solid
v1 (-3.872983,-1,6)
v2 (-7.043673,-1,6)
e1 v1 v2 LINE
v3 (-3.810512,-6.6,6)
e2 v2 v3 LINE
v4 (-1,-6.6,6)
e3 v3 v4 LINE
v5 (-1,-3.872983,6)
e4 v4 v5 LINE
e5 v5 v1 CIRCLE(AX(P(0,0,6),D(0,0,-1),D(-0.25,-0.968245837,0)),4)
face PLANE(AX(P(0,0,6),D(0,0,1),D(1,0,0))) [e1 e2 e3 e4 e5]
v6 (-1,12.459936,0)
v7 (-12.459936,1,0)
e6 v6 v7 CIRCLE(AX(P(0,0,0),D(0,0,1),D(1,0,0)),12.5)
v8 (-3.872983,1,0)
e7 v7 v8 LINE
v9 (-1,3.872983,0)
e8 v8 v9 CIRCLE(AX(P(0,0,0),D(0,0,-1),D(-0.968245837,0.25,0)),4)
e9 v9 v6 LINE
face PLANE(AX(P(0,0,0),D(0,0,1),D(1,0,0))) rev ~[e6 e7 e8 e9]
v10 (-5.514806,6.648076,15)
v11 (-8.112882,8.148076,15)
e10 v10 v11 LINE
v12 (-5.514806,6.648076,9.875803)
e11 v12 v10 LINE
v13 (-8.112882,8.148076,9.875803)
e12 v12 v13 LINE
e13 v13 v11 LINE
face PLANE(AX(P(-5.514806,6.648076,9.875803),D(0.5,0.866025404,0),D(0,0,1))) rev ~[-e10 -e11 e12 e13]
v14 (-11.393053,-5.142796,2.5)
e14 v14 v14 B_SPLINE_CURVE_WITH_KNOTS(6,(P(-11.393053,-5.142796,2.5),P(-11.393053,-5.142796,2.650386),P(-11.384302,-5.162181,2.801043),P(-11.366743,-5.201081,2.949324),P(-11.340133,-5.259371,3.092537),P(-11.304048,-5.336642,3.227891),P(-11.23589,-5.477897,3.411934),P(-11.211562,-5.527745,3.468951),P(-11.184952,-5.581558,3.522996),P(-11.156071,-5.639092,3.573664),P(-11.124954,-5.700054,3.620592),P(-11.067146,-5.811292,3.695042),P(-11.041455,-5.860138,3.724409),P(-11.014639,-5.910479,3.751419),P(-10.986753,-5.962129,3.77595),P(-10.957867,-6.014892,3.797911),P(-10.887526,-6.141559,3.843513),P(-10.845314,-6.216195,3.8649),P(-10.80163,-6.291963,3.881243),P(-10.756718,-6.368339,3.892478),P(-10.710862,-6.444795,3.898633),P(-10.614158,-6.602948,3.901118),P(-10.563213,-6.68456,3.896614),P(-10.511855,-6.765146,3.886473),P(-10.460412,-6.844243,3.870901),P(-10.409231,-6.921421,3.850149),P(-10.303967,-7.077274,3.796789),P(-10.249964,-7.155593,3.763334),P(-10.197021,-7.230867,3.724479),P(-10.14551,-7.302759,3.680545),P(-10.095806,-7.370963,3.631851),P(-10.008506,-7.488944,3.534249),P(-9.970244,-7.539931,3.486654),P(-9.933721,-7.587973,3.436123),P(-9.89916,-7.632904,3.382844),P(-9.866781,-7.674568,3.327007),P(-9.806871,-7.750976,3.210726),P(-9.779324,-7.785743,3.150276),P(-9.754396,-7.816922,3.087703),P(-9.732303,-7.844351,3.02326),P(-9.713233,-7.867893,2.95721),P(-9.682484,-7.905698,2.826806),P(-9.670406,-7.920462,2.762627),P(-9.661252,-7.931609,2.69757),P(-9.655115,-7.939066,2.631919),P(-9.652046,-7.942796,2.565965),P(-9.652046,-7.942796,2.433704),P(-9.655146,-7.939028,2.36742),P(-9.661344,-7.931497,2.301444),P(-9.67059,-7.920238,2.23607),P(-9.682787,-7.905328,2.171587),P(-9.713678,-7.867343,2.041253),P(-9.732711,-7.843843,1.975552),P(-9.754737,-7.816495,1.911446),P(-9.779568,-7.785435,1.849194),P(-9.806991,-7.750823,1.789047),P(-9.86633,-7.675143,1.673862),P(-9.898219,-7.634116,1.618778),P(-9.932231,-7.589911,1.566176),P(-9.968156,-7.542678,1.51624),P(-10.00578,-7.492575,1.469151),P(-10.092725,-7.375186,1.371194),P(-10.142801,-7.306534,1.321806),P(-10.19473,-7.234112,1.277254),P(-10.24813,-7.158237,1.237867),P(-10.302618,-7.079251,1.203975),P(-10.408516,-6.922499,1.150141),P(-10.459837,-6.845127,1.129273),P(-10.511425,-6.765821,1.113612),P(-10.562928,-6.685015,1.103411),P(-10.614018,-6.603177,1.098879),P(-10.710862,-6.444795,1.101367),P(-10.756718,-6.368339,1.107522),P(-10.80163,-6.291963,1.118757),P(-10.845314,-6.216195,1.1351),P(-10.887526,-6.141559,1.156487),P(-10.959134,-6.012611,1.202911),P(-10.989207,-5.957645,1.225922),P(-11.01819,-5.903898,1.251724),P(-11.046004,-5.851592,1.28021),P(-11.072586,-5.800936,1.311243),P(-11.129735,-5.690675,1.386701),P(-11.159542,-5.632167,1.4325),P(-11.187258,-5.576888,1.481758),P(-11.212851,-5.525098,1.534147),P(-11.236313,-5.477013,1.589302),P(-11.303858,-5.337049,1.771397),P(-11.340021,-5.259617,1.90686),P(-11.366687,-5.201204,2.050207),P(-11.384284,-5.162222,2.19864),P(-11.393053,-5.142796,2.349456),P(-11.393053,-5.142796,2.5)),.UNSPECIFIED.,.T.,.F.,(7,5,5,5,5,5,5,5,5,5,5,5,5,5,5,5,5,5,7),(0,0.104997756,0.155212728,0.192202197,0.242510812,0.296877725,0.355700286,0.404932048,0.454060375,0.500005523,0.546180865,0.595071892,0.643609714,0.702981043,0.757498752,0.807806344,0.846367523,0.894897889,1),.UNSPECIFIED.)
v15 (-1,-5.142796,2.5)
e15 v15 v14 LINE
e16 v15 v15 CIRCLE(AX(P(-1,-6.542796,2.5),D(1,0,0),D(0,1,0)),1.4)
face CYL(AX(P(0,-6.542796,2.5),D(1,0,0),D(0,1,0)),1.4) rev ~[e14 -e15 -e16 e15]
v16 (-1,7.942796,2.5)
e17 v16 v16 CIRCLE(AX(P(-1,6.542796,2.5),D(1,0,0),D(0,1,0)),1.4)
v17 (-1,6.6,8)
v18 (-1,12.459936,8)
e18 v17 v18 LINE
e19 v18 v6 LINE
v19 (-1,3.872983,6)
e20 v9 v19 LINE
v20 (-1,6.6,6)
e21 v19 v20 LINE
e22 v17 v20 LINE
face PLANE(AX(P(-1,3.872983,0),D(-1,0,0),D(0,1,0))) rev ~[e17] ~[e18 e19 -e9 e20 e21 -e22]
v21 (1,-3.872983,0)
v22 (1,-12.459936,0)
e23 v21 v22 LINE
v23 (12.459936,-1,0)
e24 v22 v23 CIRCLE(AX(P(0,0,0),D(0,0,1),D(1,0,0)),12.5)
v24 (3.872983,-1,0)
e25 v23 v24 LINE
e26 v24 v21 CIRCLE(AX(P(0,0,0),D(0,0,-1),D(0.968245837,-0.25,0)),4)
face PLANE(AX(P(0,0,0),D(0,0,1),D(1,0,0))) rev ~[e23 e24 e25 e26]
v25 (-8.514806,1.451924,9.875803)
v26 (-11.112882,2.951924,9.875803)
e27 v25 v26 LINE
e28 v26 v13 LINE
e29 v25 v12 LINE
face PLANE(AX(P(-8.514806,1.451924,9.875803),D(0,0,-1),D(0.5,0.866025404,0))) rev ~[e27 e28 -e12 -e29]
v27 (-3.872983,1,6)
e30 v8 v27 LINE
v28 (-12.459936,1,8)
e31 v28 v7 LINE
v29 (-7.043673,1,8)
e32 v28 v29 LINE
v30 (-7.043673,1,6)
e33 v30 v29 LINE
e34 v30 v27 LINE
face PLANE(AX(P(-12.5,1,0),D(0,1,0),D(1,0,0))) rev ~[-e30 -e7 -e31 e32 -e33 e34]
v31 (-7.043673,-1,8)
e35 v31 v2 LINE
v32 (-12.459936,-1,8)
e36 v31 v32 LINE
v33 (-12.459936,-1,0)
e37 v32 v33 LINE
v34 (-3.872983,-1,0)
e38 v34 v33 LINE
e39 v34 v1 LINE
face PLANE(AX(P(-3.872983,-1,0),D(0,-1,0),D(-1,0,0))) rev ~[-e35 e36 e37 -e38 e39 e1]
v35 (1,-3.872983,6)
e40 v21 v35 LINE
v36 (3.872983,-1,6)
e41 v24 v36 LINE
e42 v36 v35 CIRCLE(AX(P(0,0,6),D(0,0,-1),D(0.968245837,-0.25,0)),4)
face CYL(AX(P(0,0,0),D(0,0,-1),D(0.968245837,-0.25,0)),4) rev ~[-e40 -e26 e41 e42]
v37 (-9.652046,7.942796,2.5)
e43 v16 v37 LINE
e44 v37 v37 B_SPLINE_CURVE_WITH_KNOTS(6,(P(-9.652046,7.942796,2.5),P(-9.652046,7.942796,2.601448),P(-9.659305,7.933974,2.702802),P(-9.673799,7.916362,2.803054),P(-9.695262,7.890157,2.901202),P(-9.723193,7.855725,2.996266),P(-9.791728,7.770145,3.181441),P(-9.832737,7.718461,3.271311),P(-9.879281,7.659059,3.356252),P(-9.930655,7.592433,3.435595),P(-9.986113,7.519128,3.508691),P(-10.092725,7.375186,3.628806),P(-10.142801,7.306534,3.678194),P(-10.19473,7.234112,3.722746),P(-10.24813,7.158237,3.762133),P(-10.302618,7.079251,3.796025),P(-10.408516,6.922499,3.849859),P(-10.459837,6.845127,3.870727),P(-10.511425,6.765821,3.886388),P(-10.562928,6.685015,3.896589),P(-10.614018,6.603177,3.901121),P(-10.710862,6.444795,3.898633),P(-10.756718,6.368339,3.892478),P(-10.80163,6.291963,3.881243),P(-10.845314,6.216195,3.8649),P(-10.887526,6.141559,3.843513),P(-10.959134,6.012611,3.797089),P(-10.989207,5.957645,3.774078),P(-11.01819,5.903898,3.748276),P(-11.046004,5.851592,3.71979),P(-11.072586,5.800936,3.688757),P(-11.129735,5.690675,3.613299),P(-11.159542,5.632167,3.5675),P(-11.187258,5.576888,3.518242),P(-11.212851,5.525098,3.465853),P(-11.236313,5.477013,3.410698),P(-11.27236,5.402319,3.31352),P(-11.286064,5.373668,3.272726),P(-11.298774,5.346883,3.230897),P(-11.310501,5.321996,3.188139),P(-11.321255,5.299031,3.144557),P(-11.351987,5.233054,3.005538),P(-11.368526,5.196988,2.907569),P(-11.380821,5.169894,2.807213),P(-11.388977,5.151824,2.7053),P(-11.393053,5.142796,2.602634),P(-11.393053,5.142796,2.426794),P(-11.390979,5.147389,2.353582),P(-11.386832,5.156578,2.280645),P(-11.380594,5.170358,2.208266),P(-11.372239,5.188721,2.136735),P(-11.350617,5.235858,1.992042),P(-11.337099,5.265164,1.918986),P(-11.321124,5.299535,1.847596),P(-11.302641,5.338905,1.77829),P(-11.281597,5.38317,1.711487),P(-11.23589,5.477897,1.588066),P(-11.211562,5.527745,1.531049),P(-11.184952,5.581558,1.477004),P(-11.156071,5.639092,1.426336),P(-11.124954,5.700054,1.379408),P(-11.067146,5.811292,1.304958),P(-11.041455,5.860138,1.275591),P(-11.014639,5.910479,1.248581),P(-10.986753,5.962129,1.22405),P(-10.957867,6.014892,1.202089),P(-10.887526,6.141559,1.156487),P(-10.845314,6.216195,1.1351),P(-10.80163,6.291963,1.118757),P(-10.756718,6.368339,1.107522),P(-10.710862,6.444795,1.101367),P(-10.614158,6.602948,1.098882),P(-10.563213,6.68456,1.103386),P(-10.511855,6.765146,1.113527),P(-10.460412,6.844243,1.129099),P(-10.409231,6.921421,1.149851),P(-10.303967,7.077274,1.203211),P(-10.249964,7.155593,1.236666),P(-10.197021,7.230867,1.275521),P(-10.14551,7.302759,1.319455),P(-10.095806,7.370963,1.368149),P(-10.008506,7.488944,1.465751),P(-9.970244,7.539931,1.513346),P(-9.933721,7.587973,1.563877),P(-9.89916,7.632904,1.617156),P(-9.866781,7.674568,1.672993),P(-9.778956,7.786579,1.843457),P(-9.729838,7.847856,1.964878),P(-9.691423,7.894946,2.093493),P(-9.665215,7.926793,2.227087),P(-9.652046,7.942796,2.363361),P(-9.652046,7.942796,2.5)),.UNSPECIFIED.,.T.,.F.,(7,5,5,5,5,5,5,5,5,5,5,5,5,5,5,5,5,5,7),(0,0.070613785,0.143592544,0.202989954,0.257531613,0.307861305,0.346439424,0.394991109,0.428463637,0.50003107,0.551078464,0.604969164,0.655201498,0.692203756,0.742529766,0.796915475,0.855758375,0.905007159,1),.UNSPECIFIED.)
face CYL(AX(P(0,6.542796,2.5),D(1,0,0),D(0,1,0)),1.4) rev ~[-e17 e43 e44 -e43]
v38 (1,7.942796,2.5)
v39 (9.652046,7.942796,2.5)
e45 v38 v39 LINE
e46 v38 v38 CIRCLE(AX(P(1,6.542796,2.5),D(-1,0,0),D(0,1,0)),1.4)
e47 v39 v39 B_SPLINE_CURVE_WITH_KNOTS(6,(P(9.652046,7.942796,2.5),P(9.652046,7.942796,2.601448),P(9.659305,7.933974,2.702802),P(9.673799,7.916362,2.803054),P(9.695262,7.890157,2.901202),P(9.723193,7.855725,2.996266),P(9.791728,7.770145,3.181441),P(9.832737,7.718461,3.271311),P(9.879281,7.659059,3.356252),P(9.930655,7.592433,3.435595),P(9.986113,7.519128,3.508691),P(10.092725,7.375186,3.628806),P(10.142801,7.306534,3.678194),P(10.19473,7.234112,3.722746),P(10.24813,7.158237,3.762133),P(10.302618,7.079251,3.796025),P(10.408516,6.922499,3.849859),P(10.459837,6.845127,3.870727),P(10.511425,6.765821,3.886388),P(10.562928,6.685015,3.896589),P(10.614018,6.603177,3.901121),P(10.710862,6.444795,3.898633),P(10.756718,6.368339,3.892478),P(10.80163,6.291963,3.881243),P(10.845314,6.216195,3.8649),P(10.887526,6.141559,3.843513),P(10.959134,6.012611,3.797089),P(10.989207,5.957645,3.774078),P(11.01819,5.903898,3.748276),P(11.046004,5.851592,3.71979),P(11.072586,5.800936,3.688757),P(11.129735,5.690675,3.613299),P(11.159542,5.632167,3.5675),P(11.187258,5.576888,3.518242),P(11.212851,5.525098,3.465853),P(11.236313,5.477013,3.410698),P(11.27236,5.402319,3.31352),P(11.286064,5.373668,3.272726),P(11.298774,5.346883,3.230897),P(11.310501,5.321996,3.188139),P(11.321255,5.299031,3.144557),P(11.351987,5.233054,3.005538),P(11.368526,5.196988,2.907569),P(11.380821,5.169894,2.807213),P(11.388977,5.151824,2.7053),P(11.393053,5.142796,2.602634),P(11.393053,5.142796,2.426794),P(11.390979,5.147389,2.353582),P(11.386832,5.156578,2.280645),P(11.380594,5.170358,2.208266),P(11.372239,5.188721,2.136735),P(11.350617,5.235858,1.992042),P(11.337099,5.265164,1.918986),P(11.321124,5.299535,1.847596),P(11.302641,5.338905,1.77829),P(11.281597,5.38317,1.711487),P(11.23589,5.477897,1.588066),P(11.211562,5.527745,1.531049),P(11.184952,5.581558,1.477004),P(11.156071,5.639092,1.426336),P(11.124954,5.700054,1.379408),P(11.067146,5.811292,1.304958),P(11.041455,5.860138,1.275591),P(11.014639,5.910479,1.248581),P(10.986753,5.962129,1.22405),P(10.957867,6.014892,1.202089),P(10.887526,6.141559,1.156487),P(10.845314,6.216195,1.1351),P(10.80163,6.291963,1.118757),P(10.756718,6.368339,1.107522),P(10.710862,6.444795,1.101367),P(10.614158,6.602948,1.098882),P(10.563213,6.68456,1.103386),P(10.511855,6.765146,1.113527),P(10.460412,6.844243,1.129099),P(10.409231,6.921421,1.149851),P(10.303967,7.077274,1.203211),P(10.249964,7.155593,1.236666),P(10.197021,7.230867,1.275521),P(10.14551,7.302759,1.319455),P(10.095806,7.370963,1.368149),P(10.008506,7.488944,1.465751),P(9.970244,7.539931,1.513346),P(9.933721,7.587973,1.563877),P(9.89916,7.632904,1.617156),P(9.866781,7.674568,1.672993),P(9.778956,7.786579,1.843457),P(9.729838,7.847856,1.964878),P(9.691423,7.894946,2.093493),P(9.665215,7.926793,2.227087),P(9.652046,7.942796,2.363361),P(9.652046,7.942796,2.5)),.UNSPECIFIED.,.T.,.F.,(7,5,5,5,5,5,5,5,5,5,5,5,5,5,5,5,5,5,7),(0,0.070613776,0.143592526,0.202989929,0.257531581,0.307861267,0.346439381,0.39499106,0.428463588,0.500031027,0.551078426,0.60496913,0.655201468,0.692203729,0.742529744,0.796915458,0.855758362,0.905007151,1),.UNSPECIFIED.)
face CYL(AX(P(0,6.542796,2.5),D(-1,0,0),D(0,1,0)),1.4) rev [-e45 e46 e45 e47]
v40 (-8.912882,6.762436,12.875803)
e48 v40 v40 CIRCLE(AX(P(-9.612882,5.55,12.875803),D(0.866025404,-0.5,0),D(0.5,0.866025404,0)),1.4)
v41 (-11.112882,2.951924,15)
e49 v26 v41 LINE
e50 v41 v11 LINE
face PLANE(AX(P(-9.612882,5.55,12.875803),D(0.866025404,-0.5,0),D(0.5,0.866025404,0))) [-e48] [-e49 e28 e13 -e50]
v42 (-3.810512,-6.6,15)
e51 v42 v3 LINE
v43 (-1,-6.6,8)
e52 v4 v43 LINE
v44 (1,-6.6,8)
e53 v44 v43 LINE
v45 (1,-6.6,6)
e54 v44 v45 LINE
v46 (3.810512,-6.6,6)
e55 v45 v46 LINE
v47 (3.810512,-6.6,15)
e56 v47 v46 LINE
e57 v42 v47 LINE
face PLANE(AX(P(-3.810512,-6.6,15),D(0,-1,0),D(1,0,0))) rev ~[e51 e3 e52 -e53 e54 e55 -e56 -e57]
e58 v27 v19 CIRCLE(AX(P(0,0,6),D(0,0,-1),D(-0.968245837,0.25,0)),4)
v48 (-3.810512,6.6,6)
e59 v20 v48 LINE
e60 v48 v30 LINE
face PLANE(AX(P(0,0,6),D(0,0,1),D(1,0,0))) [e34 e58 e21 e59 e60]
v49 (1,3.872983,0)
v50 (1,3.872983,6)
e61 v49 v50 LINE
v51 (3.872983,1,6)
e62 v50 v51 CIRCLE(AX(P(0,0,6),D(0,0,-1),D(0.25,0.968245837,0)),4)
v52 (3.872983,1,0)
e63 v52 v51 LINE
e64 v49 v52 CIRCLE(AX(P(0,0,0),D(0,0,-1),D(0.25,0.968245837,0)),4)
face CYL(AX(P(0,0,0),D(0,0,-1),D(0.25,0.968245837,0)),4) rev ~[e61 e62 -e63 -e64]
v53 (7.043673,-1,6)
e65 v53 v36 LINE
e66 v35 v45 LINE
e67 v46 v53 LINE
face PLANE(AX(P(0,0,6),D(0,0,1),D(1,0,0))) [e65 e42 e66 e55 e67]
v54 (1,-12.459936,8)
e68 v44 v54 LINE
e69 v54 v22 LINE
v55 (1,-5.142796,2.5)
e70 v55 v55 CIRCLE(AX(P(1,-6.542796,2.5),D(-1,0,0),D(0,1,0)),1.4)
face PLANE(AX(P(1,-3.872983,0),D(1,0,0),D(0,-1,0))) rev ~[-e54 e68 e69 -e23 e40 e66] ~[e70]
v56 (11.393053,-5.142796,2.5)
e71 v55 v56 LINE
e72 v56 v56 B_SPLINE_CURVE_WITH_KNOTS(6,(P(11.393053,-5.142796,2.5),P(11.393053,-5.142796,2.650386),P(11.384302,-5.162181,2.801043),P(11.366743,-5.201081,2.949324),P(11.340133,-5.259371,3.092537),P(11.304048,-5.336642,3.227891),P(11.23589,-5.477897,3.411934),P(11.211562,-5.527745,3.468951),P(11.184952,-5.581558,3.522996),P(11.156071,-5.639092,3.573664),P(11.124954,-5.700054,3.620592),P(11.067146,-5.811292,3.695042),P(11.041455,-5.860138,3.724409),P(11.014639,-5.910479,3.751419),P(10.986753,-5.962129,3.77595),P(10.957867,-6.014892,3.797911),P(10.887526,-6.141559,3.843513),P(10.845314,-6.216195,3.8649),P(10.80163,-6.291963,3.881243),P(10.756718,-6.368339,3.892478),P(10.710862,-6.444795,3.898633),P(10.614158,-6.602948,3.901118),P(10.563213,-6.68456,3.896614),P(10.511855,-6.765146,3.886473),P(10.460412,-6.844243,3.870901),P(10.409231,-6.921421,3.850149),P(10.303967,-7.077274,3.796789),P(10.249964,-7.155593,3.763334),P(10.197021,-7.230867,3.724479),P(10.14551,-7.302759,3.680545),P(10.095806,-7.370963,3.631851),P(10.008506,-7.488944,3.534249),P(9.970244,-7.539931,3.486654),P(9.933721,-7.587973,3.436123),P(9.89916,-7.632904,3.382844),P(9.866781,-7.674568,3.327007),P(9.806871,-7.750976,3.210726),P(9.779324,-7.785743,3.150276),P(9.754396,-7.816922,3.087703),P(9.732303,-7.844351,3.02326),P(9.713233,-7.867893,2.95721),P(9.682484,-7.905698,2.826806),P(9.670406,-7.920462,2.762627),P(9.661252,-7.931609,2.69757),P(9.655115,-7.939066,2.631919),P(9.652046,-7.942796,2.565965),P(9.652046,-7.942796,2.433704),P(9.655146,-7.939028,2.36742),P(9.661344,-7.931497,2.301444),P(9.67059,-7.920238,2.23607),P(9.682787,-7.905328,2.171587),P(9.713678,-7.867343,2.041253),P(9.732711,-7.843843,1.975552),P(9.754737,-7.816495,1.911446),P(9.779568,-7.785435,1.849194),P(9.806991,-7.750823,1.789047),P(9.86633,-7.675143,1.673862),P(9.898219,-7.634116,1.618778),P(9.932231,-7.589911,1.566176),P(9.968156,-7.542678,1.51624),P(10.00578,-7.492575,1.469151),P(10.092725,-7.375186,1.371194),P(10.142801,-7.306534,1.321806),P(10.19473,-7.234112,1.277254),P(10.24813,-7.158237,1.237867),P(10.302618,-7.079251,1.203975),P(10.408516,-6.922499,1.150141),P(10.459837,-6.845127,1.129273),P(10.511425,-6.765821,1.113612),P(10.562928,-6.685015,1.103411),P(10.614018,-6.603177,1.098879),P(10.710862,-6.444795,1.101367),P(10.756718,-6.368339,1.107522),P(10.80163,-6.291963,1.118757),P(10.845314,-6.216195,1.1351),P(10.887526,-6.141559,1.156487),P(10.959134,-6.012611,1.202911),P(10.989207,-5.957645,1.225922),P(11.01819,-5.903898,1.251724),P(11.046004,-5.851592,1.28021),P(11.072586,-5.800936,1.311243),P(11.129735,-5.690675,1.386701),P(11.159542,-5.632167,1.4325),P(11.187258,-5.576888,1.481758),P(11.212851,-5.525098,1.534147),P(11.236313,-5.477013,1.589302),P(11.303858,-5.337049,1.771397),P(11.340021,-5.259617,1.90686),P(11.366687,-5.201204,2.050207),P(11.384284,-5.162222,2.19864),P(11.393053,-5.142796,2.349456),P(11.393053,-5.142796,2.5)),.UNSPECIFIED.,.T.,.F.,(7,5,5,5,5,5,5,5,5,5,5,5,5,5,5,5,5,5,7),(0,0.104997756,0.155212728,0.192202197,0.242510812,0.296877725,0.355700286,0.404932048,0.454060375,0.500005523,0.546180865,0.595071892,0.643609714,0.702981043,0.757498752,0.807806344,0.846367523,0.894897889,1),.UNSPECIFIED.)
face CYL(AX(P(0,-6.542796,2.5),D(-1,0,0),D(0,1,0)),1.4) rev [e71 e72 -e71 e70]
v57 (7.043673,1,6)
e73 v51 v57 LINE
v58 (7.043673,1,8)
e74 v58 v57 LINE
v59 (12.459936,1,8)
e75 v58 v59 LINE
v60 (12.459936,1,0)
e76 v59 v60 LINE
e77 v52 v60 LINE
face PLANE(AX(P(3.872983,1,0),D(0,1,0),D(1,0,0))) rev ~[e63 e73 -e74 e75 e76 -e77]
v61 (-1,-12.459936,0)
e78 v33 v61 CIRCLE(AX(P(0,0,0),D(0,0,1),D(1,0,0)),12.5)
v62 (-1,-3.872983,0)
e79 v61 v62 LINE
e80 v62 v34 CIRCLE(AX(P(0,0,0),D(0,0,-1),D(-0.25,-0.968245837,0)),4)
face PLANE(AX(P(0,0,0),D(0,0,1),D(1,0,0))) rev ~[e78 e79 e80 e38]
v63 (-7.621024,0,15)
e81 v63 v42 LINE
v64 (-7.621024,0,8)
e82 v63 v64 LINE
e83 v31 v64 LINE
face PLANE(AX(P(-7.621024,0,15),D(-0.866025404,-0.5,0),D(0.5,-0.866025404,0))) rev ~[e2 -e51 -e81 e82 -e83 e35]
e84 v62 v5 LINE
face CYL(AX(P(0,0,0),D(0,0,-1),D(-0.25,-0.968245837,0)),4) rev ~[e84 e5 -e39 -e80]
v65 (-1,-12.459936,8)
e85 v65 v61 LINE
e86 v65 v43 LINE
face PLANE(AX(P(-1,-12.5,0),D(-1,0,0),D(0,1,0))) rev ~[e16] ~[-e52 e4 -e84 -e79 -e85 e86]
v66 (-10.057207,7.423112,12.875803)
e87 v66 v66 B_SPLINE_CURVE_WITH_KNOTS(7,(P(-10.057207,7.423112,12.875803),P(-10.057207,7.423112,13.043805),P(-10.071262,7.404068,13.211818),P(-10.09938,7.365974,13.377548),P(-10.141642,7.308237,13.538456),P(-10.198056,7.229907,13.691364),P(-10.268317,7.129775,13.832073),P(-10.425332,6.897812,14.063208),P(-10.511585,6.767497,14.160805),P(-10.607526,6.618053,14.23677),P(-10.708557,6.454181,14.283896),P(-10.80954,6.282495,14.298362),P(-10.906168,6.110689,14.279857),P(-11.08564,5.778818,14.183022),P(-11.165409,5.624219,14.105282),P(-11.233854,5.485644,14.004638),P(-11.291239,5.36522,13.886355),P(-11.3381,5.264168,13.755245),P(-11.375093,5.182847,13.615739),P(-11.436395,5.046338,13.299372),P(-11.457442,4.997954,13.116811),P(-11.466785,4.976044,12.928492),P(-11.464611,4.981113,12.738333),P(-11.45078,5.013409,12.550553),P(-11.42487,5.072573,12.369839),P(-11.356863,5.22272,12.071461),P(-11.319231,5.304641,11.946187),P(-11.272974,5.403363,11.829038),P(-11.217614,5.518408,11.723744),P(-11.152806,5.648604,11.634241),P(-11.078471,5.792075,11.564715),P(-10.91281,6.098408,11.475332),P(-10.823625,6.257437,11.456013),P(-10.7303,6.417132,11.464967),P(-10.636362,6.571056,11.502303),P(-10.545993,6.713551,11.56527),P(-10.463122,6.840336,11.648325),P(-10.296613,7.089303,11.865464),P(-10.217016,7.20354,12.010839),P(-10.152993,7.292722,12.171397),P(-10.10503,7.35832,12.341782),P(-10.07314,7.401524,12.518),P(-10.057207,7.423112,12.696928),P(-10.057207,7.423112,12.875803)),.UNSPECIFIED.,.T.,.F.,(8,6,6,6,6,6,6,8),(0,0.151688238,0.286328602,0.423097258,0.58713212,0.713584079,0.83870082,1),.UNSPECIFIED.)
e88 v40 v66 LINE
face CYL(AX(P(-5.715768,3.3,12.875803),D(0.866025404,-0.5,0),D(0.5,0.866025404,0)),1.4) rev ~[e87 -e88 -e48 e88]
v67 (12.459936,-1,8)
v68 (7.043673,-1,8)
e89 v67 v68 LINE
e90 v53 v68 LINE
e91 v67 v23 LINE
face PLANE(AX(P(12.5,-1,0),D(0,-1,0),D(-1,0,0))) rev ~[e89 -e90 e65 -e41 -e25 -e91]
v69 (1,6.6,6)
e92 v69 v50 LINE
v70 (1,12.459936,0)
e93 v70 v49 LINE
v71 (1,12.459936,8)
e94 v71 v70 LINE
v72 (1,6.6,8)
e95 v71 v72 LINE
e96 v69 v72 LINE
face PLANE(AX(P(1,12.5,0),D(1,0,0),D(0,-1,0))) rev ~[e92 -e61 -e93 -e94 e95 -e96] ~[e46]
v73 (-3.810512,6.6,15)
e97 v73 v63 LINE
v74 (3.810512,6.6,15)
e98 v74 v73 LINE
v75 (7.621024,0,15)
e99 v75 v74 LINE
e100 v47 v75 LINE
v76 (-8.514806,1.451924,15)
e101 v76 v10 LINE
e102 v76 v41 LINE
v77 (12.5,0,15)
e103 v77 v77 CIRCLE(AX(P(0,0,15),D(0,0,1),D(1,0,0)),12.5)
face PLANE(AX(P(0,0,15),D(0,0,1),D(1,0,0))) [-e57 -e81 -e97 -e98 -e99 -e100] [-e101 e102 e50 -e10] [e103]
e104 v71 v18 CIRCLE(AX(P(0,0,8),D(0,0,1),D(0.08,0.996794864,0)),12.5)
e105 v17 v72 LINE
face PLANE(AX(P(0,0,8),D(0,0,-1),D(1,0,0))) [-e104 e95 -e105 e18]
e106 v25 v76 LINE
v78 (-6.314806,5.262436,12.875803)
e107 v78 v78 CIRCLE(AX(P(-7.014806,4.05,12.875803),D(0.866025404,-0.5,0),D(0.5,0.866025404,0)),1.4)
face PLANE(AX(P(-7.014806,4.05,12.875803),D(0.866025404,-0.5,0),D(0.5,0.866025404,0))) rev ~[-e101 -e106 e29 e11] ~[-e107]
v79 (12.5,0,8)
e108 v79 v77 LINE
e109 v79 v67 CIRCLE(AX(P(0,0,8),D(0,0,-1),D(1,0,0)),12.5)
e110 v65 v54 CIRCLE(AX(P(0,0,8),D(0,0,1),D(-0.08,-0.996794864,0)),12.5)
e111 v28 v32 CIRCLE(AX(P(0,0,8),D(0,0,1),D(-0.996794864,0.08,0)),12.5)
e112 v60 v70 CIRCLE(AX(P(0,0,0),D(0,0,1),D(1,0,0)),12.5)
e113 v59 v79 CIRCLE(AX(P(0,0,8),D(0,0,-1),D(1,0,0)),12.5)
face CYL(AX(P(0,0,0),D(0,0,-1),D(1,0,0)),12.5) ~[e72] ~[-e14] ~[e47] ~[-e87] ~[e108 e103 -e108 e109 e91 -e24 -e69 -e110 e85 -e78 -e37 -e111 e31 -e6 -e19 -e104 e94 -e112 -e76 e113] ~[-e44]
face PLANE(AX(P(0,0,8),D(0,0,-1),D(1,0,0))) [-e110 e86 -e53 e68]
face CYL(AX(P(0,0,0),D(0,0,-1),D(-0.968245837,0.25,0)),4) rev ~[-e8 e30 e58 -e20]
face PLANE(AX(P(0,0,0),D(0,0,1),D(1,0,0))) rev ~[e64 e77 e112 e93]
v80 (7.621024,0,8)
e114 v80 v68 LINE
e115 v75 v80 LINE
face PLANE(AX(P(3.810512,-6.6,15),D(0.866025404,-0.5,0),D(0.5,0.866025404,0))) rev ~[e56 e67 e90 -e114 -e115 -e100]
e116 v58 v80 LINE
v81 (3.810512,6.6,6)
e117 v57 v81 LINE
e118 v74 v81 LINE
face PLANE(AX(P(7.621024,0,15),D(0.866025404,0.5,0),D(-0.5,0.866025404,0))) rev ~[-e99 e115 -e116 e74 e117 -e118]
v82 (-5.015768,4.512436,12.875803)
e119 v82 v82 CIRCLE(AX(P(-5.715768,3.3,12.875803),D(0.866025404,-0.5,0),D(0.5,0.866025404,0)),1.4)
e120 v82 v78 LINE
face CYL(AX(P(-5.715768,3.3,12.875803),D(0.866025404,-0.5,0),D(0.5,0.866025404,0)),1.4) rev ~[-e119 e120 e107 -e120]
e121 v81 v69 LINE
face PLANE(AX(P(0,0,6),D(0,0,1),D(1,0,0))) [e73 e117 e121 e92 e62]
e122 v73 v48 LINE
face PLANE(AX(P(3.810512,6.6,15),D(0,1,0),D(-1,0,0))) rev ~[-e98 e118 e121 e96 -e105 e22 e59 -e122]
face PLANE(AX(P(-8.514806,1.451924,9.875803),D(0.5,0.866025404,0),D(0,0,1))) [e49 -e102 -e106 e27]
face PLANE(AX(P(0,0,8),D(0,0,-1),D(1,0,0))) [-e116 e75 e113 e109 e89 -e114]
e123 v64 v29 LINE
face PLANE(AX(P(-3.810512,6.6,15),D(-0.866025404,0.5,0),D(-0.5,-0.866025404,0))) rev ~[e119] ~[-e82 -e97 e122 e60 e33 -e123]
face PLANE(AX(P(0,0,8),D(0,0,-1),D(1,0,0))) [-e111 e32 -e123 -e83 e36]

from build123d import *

# Parameters (mm, degrees)
F0_R           = 12.5
F1_DEPTH       = 15
F3_DEPTH       = 8
F5_DEPTH       = 9
F6_R           = 1.4
F7_DEPTH       = 5.9
F9_W           = 6
F9_H           = 6
F10_DEPTH      = 3
F11_R          = 1.4
F12_DEPTH      = 12.5010001
F12_DEPTH_BACK = 12.5010001


with BuildPart() as f1:
    # F0 (on Top) → F1 (new body)
    with BuildSketch(Plane.XY):
        Circle(F0_R)
    extrude(amount=F1_DEPTH)

    # F2 (on face) → F3 (cut)
    with BuildSketch(Plane(origin=(0, 0, 0), x_dir=(1, 0, 0), z_dir=(0, 0, -1))):
        with BuildLine():
            Line((-3.8729833462, 1), (-12.5, 1))
            Line((-12.5, 1), (-12.5, -1))
            Line((-12.5, -1), (-3.8729833462, -1))
            ThreePointArc((-3.8729833462, -1), (-2.8284271247, -2.8284271247), (-1, -3.8729833462))
            Line((-1, -3.8729833462), (-1, -12.5))
            Line((-1, -12.5), (1, -12.5))
            Line((1, -12.5), (1, -3.8729833462))
            ThreePointArc((1, -3.8729833462), (2.8284271247, -2.8284271247), (3.8729833462, -1))
            Line((3.8729833462, -1), (12.5, -1))
            Line((12.5, -1), (12.5, 1))
            Line((12.5, 1), (3.8729833462, 1))
            ThreePointArc((3.8729833462, 1), (2.8284271247, 2.8284271247), (1, 3.8729833462))
            Line((1, 3.8729833462), (1, 12.5))
            Line((1, 12.5), (-1, 12.5))
            Line((-1, 12.5), (-1, 3.8729833462))
            ThreePointArc((-1, 3.8729833462), (-2.8284271247, 2.8284271247), (-3.8729833462, 1))
        make_face()
    extrude(amount=-F3_DEPTH, mode=Mode.SUBTRACT)

    # F4 (on face) → F5 (cut)
    with BuildSketch(Plane.XY.offset(15)):
        Polygon((3.8105117767, 6.6), (-3.8105117767, 6.6), (-7.6210235533, 0), (-3.8105117767, -6.6), (3.8105117767, -6.6), (7.6210235533, 0), align=None)
    extrude(amount=-F5_DEPTH, mode=Mode.SUBTRACT)

    # F6 (on face) → F7 (cut, through all)
    with BuildSketch(Plane(origin=(-5.715767665, 3.3, 0), x_dir=(0.5, 0.8660254038, 0), z_dir=(0.8660254038, -0.5, 0))):
        with Locations((0, 12.8758029834)):
            Circle(F6_R)
    extrude(amount=-F7_DEPTH, mode=Mode.SUBTRACT)

    # F9 (on offset) → F10 (cut)
    with BuildSketch(Plane(origin=(-7.0148057707, 4.05, 0), x_dir=(0.5, 0.8660254038, 0), z_dir=(0.8660254038, -0.5, 0))):
        with Locations((0, 12.8758029834)):
            Rectangle(F9_W, F9_H)
    extrude(amount=-F10_DEPTH, mode=Mode.SUBTRACT)

    # F11 (on Right) → F12 (cut, two sides)
    with BuildSketch(Plane.YZ) as f12_sk:
        with Locations((6.542795848, 2.5)):
            Circle(F11_R)
        with Locations((-6.542795848, 2.5)):
            Circle(F11_R)
    extrude(amount=-F12_DEPTH, mode=Mode.SUBTRACT)
    extrude(f12_sk.sketch, amount=F12_DEPTH_BACK, mode=Mode.SUBTRACT)


solid = f1.part
